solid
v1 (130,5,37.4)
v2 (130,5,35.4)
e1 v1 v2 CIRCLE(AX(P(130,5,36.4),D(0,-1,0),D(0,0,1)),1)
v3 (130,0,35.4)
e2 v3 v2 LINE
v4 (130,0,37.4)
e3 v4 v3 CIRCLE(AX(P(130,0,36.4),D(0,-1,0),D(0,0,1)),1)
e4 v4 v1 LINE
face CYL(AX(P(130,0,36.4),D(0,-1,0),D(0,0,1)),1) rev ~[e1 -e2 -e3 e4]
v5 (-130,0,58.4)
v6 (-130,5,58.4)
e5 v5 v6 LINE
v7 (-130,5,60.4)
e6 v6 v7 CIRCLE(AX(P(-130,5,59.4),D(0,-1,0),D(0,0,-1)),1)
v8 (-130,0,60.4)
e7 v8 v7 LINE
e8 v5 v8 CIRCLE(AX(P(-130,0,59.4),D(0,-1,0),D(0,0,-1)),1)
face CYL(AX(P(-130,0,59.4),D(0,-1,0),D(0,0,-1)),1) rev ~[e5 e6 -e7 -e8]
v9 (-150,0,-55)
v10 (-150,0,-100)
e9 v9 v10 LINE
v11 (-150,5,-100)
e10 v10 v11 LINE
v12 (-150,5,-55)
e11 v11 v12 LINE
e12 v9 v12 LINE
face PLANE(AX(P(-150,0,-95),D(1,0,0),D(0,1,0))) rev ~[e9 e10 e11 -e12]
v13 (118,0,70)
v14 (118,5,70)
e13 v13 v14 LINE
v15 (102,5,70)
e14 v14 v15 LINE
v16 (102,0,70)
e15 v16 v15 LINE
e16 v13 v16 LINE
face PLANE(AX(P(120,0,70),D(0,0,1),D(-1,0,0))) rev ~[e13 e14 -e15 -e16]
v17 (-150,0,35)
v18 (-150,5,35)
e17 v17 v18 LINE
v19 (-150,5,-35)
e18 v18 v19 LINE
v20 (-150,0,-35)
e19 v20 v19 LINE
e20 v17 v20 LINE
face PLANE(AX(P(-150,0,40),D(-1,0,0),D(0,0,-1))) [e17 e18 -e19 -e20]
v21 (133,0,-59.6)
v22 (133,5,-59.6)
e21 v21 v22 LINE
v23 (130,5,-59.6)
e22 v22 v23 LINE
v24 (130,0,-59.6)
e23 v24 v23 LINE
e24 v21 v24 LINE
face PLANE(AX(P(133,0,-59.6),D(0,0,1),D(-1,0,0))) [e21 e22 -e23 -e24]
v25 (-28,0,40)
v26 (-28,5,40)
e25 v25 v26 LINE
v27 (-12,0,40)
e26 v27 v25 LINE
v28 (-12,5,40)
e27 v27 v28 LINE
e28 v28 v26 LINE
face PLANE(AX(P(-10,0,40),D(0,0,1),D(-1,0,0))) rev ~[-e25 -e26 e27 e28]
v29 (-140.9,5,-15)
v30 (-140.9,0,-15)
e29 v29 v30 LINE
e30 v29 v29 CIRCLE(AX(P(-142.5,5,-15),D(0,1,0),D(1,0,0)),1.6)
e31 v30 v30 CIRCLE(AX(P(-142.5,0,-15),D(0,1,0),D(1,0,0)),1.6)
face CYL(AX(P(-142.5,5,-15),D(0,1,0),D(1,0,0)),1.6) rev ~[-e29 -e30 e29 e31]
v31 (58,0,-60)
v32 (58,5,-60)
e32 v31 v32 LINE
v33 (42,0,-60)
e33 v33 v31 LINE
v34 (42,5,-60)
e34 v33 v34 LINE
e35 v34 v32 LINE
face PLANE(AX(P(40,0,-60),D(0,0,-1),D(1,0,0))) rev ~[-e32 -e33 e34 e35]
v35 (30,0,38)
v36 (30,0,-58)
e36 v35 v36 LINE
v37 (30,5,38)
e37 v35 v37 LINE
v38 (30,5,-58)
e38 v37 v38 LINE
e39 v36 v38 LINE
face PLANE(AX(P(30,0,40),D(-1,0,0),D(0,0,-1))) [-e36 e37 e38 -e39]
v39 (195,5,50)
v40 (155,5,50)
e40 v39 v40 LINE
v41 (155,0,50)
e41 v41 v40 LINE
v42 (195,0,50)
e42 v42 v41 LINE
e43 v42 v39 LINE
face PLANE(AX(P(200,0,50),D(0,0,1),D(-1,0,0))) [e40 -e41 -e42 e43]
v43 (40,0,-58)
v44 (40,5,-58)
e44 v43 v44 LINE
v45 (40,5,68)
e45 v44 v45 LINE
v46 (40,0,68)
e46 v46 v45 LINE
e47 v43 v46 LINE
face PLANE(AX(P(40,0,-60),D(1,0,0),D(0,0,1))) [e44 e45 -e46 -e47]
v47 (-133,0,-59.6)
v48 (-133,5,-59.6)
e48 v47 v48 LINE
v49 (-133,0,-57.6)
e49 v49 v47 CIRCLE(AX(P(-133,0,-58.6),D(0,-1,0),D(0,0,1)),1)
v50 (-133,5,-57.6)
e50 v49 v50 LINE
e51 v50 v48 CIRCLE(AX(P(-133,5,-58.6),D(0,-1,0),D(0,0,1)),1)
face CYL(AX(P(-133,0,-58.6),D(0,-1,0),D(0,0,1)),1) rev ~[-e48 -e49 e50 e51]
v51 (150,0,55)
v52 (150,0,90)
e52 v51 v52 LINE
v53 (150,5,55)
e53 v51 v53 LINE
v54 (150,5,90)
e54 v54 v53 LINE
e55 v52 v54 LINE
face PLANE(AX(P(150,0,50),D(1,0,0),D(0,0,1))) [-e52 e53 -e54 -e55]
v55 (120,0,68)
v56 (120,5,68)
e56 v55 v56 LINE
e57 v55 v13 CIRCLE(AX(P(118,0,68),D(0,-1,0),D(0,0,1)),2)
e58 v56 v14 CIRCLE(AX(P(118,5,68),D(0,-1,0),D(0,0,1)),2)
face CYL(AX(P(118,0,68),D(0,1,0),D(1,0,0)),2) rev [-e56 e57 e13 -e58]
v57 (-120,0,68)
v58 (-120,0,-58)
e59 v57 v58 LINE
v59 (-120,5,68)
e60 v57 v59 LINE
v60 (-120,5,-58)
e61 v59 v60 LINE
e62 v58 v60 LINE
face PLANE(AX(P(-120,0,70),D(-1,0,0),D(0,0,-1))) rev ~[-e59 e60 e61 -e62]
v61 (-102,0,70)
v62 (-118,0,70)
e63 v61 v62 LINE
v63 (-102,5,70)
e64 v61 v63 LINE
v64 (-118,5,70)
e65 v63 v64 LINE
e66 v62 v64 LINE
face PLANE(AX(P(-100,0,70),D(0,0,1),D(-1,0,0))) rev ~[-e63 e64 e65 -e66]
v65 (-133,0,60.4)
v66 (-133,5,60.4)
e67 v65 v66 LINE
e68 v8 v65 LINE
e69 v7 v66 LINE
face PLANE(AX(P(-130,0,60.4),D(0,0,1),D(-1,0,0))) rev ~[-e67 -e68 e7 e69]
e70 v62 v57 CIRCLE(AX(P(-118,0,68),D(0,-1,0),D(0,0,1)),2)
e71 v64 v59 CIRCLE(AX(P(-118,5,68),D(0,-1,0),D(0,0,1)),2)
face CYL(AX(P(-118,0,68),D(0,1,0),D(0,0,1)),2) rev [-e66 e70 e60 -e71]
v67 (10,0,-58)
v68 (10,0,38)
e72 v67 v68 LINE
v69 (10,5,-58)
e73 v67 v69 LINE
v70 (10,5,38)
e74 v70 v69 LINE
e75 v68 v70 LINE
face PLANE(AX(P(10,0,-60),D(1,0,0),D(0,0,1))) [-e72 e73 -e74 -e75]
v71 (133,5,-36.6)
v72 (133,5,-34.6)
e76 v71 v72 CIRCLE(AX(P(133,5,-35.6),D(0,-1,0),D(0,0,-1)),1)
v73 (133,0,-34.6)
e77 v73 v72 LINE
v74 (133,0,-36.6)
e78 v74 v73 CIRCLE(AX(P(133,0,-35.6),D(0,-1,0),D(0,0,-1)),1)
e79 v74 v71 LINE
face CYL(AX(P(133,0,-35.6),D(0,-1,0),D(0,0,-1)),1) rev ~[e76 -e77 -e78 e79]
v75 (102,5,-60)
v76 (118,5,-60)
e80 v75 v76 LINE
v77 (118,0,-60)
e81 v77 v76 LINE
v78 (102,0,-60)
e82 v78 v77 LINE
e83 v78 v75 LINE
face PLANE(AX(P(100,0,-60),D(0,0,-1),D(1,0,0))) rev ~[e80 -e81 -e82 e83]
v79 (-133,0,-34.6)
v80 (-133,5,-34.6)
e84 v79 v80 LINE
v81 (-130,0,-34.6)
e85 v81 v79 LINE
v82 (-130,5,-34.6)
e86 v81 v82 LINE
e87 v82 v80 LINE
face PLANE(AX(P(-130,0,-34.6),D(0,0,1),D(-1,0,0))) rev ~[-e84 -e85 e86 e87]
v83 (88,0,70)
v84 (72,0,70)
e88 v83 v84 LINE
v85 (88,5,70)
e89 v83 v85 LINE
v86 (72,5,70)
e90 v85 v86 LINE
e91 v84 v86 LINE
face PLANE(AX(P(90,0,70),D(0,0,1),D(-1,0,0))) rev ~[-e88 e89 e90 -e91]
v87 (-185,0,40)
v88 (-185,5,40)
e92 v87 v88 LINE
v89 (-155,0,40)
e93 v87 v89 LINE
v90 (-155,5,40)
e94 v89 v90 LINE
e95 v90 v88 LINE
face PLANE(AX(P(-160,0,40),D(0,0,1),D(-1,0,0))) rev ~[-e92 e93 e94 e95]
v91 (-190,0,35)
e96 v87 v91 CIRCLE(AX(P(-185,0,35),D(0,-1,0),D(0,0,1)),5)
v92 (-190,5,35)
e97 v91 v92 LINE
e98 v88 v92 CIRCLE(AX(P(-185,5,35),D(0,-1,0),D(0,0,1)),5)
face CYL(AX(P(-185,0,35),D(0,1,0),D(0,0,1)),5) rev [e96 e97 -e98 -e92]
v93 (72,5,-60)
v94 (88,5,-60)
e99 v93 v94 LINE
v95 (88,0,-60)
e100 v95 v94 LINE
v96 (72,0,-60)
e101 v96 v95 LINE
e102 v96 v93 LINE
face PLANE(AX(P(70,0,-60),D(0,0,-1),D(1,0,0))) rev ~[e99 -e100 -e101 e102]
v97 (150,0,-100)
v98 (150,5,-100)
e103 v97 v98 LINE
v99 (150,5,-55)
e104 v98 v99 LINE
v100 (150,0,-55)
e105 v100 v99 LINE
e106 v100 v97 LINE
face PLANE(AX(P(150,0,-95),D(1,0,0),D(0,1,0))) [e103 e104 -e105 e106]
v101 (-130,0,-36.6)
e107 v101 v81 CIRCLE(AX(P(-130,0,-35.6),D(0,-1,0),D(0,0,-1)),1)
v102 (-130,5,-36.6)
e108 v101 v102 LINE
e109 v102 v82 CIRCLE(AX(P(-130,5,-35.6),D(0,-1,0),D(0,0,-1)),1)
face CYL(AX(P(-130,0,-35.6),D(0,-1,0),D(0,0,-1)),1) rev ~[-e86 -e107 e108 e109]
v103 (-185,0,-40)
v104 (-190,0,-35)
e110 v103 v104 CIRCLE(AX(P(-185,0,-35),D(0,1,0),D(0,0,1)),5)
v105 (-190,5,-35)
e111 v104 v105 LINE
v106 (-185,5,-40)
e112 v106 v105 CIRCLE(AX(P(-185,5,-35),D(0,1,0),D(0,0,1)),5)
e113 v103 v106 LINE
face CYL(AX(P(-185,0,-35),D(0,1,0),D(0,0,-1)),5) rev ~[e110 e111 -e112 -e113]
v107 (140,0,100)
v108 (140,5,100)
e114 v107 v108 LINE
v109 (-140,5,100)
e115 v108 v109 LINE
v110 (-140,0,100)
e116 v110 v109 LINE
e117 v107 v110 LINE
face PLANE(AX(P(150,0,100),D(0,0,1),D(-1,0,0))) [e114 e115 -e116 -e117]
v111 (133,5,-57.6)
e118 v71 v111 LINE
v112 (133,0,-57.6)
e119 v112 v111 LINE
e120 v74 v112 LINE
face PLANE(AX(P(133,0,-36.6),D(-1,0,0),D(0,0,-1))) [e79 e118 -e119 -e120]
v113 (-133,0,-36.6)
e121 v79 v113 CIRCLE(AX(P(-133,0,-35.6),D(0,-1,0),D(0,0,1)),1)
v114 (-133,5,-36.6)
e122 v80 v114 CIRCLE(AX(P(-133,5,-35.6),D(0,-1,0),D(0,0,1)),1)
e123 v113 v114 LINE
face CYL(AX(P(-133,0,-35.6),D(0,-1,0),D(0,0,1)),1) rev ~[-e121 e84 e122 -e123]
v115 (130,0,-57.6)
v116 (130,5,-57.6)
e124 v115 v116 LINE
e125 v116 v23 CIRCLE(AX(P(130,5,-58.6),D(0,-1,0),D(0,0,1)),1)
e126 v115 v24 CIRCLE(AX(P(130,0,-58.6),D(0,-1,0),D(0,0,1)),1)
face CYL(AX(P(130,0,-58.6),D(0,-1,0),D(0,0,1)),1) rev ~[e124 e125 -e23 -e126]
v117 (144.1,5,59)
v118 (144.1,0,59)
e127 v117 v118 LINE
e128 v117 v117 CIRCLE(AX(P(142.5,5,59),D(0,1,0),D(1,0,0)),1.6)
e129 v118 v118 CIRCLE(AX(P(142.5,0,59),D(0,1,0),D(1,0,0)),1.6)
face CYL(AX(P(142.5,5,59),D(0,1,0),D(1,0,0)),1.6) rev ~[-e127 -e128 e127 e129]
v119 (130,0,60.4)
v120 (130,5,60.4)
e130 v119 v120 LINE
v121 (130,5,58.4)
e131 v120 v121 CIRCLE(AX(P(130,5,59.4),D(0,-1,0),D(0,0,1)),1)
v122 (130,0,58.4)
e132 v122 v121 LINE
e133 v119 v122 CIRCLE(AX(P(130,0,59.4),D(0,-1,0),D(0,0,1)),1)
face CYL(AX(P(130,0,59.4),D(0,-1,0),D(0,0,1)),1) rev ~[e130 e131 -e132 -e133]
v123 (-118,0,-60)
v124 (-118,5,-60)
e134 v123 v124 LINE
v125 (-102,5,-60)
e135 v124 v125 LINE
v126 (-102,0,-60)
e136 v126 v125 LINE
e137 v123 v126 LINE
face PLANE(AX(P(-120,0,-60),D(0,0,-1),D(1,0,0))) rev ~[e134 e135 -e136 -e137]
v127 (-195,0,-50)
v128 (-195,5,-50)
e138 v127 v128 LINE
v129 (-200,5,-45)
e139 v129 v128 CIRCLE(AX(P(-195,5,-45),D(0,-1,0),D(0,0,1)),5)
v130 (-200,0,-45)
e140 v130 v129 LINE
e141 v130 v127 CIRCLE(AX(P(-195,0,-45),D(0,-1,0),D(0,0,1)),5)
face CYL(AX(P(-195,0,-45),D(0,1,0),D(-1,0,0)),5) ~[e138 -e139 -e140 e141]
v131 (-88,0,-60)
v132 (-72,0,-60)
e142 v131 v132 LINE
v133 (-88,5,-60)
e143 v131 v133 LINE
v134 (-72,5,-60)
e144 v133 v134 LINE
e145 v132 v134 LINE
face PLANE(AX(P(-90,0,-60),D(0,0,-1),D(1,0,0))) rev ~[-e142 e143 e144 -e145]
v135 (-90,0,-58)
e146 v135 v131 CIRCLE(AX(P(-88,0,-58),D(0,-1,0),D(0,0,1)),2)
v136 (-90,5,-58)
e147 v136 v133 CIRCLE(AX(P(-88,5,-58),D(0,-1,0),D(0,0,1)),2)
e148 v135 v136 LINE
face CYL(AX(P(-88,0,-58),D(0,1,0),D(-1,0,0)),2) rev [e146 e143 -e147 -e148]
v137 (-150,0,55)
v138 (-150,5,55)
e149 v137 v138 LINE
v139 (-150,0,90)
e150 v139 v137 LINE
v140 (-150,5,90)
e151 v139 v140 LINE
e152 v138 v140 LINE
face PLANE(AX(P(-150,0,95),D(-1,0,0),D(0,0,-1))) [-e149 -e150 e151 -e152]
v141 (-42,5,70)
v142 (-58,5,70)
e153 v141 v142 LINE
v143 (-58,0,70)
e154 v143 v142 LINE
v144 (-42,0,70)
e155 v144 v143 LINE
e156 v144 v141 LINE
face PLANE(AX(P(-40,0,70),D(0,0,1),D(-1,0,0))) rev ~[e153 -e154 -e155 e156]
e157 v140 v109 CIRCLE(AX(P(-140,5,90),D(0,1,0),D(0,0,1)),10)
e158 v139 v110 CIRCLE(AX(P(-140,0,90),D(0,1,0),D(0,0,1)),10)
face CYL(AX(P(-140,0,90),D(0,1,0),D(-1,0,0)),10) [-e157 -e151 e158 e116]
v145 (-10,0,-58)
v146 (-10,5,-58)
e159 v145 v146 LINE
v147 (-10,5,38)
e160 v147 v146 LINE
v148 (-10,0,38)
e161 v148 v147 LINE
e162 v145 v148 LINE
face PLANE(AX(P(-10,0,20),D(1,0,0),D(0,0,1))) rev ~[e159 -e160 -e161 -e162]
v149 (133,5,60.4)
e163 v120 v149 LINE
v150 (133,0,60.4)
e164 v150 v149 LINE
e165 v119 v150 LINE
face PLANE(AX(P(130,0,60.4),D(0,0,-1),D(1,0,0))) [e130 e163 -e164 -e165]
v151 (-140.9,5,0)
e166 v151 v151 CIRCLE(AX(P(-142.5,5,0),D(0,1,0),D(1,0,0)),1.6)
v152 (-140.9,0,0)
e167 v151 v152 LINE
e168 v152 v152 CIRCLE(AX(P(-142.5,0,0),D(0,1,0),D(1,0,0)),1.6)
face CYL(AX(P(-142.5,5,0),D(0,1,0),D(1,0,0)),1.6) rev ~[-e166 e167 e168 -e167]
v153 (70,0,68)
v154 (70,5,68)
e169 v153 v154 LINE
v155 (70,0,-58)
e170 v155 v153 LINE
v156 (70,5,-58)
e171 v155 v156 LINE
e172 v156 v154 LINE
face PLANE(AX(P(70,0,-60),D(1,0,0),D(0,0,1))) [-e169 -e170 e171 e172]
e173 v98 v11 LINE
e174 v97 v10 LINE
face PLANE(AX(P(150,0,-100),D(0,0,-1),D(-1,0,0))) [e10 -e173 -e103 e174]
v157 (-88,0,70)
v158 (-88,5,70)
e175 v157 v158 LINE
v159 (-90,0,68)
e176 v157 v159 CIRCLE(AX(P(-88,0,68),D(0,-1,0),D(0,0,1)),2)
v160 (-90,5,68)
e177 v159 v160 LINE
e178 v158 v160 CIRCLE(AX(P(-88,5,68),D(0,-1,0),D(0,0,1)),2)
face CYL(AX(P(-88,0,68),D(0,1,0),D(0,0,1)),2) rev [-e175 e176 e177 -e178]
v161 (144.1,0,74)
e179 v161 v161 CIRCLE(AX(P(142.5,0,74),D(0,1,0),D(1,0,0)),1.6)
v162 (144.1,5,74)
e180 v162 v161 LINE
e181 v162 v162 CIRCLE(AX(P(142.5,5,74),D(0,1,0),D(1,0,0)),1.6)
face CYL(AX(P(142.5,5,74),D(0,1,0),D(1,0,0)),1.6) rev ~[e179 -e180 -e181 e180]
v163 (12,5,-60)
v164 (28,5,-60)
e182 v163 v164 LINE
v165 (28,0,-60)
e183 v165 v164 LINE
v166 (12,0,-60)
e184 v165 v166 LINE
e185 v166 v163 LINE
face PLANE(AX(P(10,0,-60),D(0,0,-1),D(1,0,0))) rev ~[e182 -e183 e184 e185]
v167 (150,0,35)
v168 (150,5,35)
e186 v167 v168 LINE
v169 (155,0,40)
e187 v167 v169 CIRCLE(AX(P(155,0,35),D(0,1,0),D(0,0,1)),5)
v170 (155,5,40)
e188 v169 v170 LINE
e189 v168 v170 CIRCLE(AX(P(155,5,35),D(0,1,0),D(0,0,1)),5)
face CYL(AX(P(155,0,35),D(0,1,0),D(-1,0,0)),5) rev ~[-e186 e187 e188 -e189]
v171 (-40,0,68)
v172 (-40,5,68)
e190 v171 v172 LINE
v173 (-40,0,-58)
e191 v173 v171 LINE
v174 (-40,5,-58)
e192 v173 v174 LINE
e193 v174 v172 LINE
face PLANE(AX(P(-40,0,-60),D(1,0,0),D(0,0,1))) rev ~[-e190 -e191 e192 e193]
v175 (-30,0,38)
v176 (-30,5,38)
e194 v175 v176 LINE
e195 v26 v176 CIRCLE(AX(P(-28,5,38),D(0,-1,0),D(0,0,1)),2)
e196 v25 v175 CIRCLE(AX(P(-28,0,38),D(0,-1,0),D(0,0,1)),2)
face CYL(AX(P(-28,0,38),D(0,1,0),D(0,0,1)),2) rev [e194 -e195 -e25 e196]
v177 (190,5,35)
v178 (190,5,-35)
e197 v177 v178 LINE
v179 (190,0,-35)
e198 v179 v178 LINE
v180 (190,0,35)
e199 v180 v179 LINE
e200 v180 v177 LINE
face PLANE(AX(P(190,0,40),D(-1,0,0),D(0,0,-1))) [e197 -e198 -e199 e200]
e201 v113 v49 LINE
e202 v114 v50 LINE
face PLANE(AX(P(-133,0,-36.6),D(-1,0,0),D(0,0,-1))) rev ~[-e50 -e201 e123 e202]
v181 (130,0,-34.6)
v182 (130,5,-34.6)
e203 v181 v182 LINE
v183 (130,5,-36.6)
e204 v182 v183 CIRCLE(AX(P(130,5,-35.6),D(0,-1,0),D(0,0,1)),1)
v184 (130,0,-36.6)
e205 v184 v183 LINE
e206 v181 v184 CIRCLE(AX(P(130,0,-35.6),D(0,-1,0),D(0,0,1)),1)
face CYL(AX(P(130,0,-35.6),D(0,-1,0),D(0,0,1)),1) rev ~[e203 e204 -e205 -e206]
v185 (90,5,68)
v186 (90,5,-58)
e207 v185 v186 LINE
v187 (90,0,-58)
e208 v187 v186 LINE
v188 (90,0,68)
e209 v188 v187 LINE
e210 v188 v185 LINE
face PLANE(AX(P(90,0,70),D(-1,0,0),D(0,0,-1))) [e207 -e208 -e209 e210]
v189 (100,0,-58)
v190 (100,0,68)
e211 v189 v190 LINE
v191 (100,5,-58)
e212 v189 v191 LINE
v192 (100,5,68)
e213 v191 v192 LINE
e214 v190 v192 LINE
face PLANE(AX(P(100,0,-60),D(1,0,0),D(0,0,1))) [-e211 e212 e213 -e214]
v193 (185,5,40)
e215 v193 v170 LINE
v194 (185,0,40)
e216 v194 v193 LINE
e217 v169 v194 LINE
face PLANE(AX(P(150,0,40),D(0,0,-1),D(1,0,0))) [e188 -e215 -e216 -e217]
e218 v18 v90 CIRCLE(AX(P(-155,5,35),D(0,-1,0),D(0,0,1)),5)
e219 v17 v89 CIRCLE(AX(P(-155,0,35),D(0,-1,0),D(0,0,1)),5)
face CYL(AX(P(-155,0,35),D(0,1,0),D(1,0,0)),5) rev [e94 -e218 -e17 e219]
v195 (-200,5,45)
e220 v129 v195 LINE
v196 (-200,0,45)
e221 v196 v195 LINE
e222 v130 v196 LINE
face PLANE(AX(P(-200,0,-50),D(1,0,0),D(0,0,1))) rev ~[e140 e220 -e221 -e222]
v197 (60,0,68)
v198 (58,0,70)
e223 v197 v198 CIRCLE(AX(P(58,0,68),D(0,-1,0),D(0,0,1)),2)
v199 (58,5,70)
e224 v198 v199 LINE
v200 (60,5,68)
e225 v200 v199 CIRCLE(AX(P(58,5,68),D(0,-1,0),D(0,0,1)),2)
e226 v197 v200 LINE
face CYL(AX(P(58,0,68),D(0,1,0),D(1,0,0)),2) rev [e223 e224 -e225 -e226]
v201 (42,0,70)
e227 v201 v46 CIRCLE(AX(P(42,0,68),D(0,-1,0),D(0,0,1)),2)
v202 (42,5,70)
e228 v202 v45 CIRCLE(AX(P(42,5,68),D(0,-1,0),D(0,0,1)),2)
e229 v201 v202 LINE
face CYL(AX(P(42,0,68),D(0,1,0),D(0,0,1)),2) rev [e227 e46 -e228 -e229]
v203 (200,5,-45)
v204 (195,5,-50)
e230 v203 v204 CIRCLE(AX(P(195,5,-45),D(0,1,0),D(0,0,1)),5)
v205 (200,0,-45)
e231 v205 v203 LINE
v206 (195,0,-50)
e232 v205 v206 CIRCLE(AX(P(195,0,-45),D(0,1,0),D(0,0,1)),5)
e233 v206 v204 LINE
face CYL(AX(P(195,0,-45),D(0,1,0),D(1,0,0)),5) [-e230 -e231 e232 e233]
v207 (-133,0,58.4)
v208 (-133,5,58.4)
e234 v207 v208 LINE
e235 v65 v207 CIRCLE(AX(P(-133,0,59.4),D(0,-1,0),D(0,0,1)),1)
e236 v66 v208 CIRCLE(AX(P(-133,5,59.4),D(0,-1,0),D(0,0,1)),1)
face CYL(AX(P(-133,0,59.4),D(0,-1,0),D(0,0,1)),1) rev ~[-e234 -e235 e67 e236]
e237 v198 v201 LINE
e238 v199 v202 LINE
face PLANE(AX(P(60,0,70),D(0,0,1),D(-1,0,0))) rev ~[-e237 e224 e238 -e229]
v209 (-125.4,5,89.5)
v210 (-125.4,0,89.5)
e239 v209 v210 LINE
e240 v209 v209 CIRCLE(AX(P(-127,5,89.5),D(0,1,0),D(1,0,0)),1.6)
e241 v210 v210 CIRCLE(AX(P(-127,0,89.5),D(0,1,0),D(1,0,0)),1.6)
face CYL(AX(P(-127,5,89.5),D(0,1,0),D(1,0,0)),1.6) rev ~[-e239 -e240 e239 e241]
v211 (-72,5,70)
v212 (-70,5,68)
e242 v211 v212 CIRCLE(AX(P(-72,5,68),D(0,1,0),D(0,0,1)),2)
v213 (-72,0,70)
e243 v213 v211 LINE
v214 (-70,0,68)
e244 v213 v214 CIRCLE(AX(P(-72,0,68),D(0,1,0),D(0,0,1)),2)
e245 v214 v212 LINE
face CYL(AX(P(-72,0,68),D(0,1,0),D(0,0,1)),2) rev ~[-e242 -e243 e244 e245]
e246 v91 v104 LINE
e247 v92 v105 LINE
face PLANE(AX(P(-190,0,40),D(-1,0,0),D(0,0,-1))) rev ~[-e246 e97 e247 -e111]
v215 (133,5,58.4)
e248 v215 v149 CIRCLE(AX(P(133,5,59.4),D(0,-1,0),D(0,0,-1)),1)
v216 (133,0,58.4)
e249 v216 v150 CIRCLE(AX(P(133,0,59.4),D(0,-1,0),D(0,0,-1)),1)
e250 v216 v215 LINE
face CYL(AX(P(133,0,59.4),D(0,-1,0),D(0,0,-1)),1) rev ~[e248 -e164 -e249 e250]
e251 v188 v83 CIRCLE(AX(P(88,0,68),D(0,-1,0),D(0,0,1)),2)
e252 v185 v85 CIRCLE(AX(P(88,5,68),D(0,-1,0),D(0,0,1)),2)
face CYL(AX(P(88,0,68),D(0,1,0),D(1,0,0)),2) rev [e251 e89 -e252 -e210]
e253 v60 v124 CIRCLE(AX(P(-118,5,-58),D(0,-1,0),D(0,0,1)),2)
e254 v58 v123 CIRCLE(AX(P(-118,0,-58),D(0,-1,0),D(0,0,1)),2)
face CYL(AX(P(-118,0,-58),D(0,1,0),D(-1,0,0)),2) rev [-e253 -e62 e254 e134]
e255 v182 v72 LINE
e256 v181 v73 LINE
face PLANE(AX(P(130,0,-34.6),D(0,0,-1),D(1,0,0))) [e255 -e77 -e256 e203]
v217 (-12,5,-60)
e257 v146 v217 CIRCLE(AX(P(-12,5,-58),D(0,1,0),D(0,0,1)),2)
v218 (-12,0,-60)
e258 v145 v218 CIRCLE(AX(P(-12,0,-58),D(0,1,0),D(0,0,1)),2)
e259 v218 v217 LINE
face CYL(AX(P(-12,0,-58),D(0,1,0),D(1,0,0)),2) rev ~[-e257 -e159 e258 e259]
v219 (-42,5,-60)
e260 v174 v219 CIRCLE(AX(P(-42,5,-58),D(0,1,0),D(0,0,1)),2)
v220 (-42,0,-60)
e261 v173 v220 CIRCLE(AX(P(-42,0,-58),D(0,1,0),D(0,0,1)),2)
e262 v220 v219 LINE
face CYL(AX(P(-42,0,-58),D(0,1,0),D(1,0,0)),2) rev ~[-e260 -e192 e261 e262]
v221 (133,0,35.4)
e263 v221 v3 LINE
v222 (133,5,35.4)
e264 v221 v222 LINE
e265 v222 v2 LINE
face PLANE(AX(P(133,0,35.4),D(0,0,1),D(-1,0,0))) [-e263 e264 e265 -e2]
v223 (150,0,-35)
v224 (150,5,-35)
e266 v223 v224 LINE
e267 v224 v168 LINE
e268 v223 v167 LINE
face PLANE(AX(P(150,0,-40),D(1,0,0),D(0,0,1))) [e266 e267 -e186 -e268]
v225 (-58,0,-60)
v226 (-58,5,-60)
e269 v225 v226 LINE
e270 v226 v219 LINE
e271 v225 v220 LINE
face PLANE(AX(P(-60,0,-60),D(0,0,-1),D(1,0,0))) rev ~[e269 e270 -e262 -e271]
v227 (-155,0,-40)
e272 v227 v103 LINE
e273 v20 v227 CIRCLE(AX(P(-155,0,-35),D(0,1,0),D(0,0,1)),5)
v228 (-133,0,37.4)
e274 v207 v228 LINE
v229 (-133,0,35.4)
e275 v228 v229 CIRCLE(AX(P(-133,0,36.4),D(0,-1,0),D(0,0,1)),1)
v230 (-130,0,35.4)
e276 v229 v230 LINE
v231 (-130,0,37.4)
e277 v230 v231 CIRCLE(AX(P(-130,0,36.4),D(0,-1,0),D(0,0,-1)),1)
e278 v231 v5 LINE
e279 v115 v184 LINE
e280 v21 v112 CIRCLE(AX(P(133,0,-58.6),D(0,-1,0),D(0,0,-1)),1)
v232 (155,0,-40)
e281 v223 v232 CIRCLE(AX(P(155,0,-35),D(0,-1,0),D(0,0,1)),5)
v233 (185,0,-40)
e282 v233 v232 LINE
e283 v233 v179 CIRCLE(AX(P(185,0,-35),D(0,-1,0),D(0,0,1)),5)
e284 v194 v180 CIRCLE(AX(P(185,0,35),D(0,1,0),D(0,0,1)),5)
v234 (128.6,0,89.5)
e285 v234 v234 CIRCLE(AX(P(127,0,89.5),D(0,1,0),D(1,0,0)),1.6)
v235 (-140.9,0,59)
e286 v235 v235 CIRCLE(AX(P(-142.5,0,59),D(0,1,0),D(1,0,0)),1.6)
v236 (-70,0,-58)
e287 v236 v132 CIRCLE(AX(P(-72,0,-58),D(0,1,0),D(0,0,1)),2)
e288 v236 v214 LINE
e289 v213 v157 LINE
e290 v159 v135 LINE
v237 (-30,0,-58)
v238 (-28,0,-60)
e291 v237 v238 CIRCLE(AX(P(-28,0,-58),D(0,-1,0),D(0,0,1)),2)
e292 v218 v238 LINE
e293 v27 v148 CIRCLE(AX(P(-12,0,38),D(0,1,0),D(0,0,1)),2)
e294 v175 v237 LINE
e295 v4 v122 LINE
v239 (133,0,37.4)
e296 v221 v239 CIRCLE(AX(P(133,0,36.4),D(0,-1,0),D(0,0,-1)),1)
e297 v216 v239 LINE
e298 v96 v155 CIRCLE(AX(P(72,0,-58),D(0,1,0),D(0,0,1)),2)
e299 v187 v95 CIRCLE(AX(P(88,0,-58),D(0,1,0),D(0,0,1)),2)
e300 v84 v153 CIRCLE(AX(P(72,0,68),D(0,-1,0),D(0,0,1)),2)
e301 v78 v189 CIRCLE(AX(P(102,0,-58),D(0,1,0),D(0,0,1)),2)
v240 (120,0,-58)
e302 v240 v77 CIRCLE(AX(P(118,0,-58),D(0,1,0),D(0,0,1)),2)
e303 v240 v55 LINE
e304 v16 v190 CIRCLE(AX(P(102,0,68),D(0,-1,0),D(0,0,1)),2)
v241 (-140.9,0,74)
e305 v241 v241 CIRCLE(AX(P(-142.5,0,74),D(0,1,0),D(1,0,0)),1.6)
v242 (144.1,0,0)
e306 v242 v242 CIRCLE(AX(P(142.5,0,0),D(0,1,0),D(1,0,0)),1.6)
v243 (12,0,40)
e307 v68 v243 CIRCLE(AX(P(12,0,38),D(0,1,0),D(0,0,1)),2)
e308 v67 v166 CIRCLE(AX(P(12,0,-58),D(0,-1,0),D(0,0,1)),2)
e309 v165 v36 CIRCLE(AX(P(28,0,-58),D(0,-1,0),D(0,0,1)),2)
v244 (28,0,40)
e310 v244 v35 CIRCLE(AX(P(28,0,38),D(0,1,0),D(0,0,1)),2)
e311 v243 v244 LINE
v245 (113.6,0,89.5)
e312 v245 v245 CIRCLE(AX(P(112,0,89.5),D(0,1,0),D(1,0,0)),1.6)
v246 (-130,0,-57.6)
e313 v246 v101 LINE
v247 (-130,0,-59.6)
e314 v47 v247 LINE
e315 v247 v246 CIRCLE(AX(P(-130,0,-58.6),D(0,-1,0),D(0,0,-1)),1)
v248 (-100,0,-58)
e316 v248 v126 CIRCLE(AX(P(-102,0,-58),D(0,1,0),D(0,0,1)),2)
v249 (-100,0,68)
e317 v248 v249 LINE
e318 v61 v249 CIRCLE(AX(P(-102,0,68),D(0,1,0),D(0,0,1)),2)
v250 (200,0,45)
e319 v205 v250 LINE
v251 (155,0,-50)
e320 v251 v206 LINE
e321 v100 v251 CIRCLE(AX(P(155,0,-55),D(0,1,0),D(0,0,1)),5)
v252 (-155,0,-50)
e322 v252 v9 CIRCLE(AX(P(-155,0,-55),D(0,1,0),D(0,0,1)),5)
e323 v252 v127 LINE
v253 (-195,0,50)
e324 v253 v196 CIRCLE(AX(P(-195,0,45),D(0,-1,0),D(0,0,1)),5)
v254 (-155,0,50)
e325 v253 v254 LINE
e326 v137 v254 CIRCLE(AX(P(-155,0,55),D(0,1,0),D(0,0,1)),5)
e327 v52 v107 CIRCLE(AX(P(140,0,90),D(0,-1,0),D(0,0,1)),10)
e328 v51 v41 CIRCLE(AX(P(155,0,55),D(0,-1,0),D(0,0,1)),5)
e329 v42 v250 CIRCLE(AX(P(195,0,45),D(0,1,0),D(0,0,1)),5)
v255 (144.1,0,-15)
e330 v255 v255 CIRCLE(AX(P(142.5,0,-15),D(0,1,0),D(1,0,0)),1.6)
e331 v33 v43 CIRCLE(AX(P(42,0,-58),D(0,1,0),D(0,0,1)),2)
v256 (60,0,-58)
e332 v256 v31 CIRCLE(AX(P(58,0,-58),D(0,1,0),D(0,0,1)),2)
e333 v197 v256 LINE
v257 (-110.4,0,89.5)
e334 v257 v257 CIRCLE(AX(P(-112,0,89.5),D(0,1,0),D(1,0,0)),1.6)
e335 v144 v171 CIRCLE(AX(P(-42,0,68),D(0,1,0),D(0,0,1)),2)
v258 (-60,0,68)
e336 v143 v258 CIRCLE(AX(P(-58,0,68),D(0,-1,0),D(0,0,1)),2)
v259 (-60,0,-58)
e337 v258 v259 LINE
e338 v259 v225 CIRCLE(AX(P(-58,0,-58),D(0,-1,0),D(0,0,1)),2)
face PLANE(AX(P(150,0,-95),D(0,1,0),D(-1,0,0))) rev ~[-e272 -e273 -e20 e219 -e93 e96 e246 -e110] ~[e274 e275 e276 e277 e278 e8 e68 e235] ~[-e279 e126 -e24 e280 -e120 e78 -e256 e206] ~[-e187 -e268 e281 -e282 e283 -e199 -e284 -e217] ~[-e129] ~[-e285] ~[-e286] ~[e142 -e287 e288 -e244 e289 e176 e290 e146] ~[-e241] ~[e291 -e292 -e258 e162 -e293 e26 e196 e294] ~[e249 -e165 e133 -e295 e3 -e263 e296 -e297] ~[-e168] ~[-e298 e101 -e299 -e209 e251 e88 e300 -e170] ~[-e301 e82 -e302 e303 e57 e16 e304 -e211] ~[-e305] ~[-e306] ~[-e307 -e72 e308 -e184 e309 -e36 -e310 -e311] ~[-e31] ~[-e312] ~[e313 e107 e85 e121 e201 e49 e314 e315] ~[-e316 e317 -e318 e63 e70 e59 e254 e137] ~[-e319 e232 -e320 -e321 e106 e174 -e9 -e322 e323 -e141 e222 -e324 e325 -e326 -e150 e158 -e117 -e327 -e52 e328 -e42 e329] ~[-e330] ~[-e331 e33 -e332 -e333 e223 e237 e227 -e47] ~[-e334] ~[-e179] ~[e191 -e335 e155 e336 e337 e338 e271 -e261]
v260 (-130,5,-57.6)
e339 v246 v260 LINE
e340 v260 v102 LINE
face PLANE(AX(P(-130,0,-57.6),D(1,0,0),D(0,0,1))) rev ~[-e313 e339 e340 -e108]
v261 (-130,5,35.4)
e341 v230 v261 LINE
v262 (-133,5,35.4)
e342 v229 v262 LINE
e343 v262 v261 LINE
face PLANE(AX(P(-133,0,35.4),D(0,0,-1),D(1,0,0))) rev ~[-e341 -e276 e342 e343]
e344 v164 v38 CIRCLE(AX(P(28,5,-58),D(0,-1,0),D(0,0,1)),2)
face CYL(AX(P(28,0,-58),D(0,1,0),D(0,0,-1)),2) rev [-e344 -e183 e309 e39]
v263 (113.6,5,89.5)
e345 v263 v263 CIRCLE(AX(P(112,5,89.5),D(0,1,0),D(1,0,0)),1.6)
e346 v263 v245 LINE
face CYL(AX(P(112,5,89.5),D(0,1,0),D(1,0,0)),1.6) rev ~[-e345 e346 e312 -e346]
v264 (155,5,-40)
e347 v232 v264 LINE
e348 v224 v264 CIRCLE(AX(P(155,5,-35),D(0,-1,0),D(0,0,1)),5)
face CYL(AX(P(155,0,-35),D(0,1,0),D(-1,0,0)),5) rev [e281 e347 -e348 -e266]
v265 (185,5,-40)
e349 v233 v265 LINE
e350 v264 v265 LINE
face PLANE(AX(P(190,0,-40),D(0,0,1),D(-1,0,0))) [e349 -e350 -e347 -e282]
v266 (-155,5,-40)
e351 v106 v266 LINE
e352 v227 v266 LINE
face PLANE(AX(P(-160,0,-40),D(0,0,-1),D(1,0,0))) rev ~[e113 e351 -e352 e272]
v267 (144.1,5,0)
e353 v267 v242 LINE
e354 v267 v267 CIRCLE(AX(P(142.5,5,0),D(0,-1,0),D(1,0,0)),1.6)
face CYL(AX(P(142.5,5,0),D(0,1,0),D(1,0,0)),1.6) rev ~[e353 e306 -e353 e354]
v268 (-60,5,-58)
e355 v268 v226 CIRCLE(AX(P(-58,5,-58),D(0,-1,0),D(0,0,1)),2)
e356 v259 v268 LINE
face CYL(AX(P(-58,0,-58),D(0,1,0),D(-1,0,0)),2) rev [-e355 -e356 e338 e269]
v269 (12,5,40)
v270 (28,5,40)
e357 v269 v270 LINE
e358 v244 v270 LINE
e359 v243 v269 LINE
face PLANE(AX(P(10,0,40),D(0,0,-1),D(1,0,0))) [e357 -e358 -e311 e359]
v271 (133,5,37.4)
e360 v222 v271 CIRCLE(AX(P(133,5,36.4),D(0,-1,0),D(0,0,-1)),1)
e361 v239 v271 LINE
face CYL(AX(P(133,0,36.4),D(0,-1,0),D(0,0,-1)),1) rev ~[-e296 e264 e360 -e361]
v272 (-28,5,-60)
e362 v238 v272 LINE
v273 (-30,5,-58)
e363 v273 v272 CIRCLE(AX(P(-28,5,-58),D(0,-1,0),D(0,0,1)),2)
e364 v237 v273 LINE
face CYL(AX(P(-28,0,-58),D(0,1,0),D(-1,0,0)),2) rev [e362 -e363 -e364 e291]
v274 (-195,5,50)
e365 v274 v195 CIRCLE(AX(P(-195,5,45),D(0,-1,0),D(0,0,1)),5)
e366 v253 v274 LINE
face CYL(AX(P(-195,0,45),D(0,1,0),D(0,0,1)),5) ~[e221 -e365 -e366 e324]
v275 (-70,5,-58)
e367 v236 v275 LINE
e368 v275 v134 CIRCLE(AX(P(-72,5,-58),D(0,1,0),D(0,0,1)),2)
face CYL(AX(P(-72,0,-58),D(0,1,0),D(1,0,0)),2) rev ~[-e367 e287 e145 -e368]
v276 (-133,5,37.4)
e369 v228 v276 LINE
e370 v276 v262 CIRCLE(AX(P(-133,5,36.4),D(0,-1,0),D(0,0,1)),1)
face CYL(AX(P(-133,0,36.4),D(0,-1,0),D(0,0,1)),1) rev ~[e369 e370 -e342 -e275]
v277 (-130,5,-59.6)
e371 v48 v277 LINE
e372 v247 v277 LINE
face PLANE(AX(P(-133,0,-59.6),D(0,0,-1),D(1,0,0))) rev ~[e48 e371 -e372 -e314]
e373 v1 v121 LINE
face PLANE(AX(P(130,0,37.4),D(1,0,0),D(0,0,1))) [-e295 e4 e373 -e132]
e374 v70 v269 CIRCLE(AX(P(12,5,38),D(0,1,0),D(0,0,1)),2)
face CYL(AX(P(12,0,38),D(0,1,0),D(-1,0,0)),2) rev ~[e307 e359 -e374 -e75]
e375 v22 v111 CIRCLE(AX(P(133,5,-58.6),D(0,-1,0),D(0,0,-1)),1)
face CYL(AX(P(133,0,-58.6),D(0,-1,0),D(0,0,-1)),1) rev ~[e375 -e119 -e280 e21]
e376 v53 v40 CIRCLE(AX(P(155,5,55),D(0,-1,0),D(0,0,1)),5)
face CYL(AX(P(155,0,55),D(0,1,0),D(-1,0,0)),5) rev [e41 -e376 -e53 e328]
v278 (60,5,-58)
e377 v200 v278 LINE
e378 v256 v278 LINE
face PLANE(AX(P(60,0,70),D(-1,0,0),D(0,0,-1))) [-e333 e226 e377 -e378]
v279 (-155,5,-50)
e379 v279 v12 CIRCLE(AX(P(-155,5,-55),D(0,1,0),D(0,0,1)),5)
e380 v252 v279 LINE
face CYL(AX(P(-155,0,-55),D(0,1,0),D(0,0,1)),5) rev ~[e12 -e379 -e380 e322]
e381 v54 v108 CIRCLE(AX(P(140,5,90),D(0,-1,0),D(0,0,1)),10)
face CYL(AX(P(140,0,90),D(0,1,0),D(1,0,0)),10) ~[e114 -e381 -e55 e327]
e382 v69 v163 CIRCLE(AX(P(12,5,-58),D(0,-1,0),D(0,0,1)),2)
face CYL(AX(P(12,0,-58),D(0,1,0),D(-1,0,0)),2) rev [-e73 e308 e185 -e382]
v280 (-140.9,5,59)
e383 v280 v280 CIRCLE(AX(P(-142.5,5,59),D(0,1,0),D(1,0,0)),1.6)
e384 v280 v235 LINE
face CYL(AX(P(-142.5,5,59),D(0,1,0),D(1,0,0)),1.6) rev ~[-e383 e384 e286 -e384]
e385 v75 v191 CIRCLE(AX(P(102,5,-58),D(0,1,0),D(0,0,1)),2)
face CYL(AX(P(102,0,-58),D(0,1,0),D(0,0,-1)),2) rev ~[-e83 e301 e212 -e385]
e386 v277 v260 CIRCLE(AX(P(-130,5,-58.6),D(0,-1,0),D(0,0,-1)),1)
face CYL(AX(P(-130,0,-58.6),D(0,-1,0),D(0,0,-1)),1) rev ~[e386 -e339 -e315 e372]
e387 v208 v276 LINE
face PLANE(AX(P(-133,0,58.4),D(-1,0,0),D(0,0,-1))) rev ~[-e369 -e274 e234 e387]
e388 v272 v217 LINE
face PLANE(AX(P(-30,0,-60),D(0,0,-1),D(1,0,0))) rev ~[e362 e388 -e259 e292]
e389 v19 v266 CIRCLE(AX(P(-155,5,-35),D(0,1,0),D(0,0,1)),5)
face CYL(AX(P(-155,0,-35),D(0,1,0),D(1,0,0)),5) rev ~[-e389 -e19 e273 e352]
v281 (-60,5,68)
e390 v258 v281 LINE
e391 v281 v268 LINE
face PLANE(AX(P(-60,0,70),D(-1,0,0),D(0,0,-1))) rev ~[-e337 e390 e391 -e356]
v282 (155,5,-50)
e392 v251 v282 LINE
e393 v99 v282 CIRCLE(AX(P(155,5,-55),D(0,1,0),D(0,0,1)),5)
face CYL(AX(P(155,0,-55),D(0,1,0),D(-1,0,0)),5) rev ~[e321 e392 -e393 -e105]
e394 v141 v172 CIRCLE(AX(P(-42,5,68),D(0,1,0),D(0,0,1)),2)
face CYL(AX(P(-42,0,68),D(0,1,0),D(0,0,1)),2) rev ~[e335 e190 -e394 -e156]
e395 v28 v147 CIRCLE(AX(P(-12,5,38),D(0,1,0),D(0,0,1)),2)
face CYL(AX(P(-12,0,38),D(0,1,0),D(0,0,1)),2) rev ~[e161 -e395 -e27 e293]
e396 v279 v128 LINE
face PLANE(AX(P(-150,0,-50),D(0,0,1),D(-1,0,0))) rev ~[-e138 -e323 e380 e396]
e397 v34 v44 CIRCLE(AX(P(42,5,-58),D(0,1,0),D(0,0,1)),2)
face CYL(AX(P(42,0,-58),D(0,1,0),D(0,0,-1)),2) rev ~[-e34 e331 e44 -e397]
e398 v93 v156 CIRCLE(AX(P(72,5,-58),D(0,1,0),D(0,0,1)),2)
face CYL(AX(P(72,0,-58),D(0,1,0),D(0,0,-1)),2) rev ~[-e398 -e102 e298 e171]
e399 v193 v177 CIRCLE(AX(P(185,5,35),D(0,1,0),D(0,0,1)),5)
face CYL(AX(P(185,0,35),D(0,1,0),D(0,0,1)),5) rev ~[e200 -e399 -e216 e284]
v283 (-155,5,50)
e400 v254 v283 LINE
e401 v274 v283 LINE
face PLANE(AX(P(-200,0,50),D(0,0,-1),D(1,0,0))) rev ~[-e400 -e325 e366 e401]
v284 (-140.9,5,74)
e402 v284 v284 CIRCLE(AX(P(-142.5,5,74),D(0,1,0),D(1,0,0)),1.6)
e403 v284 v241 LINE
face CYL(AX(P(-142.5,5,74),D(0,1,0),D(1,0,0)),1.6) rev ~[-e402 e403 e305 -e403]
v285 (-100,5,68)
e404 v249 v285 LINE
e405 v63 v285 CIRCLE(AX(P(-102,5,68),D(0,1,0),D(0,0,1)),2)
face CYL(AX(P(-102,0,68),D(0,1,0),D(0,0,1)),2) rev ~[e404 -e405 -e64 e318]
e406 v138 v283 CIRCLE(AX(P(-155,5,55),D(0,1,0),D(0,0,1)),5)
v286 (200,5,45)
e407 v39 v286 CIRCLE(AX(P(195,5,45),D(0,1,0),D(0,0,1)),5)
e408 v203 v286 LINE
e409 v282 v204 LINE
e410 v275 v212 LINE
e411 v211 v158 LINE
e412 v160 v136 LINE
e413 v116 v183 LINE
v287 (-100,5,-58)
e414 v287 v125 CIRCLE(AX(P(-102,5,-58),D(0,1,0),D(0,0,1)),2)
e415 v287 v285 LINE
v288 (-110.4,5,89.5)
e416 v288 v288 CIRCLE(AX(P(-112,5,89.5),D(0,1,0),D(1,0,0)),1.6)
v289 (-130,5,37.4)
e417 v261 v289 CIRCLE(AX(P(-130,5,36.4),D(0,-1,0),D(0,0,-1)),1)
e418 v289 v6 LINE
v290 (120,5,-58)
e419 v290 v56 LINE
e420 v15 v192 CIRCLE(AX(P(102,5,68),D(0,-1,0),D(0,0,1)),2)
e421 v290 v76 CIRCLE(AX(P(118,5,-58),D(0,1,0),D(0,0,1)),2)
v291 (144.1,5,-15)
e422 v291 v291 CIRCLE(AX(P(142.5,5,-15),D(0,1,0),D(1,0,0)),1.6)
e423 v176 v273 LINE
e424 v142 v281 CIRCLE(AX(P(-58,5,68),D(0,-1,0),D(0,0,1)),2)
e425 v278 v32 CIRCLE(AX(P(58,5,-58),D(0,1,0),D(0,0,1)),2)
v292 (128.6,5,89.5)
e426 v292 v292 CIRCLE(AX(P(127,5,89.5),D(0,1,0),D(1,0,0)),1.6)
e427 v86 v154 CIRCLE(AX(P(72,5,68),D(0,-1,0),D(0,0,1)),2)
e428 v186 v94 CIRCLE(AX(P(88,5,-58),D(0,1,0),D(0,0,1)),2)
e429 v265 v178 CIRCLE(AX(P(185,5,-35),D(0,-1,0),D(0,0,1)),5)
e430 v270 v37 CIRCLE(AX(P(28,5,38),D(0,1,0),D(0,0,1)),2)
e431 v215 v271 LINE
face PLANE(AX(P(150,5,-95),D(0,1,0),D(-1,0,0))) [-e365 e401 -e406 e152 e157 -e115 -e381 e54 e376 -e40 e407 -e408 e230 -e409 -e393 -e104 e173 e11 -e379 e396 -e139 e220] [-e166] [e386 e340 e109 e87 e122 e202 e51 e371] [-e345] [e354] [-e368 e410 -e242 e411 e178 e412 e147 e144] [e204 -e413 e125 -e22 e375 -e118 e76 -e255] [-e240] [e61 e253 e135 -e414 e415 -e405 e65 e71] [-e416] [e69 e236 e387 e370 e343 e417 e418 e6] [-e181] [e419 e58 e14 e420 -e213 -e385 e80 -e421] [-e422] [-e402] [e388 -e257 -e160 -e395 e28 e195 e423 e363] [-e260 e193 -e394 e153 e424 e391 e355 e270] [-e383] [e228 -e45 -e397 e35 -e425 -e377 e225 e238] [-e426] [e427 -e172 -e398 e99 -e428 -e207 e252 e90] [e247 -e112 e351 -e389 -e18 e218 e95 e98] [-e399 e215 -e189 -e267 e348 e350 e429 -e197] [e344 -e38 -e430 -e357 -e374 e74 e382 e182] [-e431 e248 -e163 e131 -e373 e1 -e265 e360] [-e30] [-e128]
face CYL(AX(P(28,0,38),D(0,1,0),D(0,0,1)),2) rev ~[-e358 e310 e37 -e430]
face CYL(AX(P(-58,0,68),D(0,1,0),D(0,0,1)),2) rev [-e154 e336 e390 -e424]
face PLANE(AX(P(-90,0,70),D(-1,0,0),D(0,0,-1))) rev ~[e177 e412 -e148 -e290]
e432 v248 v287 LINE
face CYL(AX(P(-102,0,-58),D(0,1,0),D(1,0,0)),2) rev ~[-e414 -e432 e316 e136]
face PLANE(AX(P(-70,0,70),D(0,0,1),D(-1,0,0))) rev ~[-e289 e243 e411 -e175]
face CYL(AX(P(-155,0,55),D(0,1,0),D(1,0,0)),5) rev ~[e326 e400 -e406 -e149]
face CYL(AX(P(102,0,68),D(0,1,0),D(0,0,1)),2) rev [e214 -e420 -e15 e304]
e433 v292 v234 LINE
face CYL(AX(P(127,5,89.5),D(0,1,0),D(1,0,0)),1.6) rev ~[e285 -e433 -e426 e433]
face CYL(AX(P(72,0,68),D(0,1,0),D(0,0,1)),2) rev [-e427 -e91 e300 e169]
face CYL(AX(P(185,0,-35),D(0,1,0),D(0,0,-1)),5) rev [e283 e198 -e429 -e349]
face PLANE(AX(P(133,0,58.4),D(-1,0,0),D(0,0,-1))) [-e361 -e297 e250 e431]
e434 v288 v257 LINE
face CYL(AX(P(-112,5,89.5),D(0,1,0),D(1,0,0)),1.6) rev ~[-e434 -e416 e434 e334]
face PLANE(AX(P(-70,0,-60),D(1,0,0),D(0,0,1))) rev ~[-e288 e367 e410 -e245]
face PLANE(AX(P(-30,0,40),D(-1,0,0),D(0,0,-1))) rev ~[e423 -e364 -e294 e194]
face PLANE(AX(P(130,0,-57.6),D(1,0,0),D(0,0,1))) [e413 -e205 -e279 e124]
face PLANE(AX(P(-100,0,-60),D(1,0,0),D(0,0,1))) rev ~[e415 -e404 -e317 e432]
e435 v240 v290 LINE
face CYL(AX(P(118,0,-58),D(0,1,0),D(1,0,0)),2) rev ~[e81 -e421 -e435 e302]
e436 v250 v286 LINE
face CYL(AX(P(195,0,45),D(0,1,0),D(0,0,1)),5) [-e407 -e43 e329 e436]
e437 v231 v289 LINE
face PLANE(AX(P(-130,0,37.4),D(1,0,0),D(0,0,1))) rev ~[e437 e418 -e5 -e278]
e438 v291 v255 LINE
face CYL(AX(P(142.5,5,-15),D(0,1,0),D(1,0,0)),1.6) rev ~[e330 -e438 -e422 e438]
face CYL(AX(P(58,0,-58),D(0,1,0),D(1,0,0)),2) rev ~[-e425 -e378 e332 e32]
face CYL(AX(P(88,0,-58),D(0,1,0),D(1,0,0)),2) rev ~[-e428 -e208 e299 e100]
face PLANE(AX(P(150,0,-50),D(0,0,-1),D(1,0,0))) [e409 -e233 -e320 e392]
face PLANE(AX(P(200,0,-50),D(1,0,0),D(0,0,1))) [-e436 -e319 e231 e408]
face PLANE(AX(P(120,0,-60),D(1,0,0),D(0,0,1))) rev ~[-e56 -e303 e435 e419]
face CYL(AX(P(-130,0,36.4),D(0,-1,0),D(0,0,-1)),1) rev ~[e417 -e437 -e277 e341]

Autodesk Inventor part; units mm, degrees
ref_plane "YZ Plane" through (0, 0, 0) normal (1, 0, 0) x (0, 1, 0)
ref_plane "XZ Plane" through (0, 0, 0) normal (0, 1, 0) x (-1, 0, 0)
ref_plane "XY Plane" through (0, 0, 0) normal (0, 0, 1) x (1, 0, 0)
sketch "スケッチ1" plane through (0, 0, 0) normal (0, 1, 0) x (-1, 0, 0)
  line L0 (150, -95) -> (-150, -95)
  line L1 (-150, -95) -> (-150, 95)
  line L2 (-150, 95) -> (150, 95)
  line L3 (150, 95) -> (150, -95)
  line L4 (150, -95) -> (-150, 95) construction
  line L5 (-150, -95) -> (150, 95) construction
  line L6 (150, 95) -> (-150, 95)
  line L7 (-150, 95) -> (-150, 100)
  line L8 (-150, 100) -> (150, 100)
  line L9 (150, 100) -> (150, 95)
  line L10 (150, -50) -> (200, -50)
  line L11 (200, -50) -> (200, 50)
  line L12 (200, 50) -> (150, 50)
  line L13 (150, 50) -> (150, -50)
  line L14 (-150, -50) -> (-200, -50)
  line L15 (-200, -50) -> (-200, 50)
  line L16 (-200, 50) -> (-150, 50)
  line L17 (-150, 50) -> (-150, -50)
  line L18 (190, -40) -> (160, -40)
  line L19 (160, -40) -> (160, 40)
  line L20 (160, 40) -> (190, 40)
  line L21 (190, 40) -> (190, -40)
  line L22 (-190, -40) -> (-160, -40)
  line L23 (-160, -40) -> (-160, 40)
  line L24 (-160, 40) -> (-190, 40)
  line L25 (-190, 40) -> (-190, -40)
  line L26 (160, -40) -> (150, -40)
  line L27 (150, -40) -> (150, 40)
  line L28 (150, 40) -> (160, 40)
  line L29 (160, 40) -> (160, -40)
  line L30 (-160, -40) -> (-150, -40)
  line L31 (-150, -40) -> (-150, 40)
  line L32 (-150, 40) -> (-160, 40)
  line L33 (-160, 40) -> (-160, -40)
  point P0 (0, 0)
  point P1 (150, 0)
  point P2 (175, -40)
  point P3 (-155, -40)
  point P4 (-155, 40)
  point P5 (-150, 40)
  point P6 (150, 40)
  dimension "d0" = 190
  dimension "d1" = 300
  dimension "d244" = 5
  dimension "d346" = 50
  dimension "d347" = 50
  dimension "d348" = 50
  dimension "d349" = 50
  dimension "d350" = 10
  dimension "d351" = 10
  dimension "d352" = 80
extrude "押し出し1" add sketch "スケッチ1" along normal blind 5 contours L0 L1 L2 L3 | L3 L26 L18 L21 L20 L28 L12 L11 L10 | L14 L15 L16 L1 L32 L24 L25 L22 L30 | L2 L7 L8 L9
sketch "スケッチ2" plane through (0, 5, 0) normal (0, 1, 0) x (1, 0, 0)
  circle A0 centre (-142.5, -74) radius 1.6
  circle A1 centre (142.5, -74) radius 1.6
  line L0 (-150, -95) -> (150, -95) projected
  circle A2 centre (-142.5, -59) radius 1.6
  circle A3 centre (142.5, -59) radius 1.6
  circle A4 centre (-127, -89.5) radius 1.6
  line L1 (-150, 95) -> (-150, -100) projected
  circle A5 centre (-112, -89.5) radius 1.6
  line L2 (150, 95) -> (-150, 95) projected
  line L3 (0, 95) -> (0, -95)
  line L4 (-150, -2.5) -> (150, 0)
  line L5 (150, -95) -> (150, 95) projected
  circle A6 centre (127, -89.5) radius 1.6
  circle A7 centre (112, -89.5) radius 1.6
  circle A8 centre (-142.5, 15) radius 1.6
  circle A9 centre (-142.5, 0) radius 1.6
  circle A10 centre (142.5, 15) radius 1.6
  circle A11 centre (142.5, 0) radius 1.6
  point P0 (0, 0)
  dimension "d55" = 142.5
  dimension "d56" = 285
  dimension "d57" = 3.2
  dimension "d58" = 3.2
  dimension "d59" = 21
  dimension "d60" = 21
  dimension "d61" = 15
  dimension "d62" = 15
  dimension "d63" = 3.2
  dimension "d64" = 3.2
  dimension "d67" = 5.5
  dimension "d68" = 23
  dimension "d69" = 15
  dimension "d70" = 3.2
  dimension "d71" = 3.2
  dimension "d72" = 80
  dimension "d73" = 7.5
  dimension "d74" = 15
  dimension "d75" = 3.2
  dimension "d76" = 3.2
  dimension "d245" = 3.2
extrude "押し出し4" cut sketch "スケッチ2" against normal blind 10 contours A0 | A1 | A11 L4 | L4 A11 | A2 | A3 | A4 | A5 | A6 | A7 | A8 | A9 | A10
sketch "スケッチ4" plane through (0, 5, 0) normal (0, 1, 0) x (1, 0, 0)
  point P0 (0, 0)
sketch "スケッチ14" plane through (150, 0, -95) normal (0, 0, -1) x (-1, 0, 0)
  line L0 (0, 0) -> (300, 0) projected
  line L1 (300, 0) -> (300, 5) projected
  line L2 (0, 5) -> (300, 5) projected
  line L3 (0, 0) -> (0, 5) projected
  point P0 (150, 0)
extrude "押し出し13" add sketch "スケッチ14" along normal blind 5
fillet "フィレット3" radius 10 2 edges at (150, 2.5, 100) (-150, 2.5, 100)
sketch "スケッチ19" plane through (0, 0, 0) normal (0, -1, 0) x (1, 0, 0)
  line L0 (150, -100) -> (-150, -100) projected
  line L1 (-140, 100) -> (140, 100) projected
  line L2 (150, 90) -> (150, -100) projected
  line L3 (-150, 90) -> (-150, -100) projected
  line L4 (-120, -60) -> (120, -60)
  line L5 (120, -60) -> (120, 70)
  line L6 (120, 70) -> (-120, 70)
  line L7 (-120, 70) -> (-120, -60)
  line L8 (-120, -60) -> (-100, -60)
  line L9 (-100, -60) -> (-100, 70)
  line L10 (-100, 70) -> (-120, 70)
  line L11 (-120, 70) -> (-120, -60)
  line L12 (-90, -60) -> (-70, -60)
  line L13 (-70, -60) -> (-70, 70)
  line L14 (-70, 70) -> (-90, 70)
  line L15 (-90, 70) -> (-90, -60)
  line L16 (-60, -60) -> (-40, -60)
  line L17 (-40, -60) -> (-40, 70)
  line L18 (-40, 70) -> (-60, 70)
  line L19 (-60, 70) -> (-60, -60)
  line L20 (-30, -60) -> (-10, -60)
  line L21 (-10, -60) -> (-10, 70)
  line L22 (-10, 70) -> (-30, 70)
  line L23 (-30, 70) -> (-30, -60)
  line L24 (120, -60) -> (100, -60)
  line L25 (100, -60) -> (100, 70)
  line L26 (100, 70) -> (120, 70)
  line L27 (120, 70) -> (120, -60)
  line L28 (90, -60) -> (70, -60)
  line L29 (70, -60) -> (70, 70)
  line L30 (70, 70) -> (90, 70)
  line L31 (90, 70) -> (90, -60)
  line L32 (60, -60) -> (40, -60)
  line L33 (40, -60) -> (40, 70)
  line L34 (40, 70) -> (60, 70)
  line L35 (60, 70) -> (60, -60)
  line L36 (30, -60) -> (10, -60)
  line L37 (10, -60) -> (10, 70)
  line L38 (10, 70) -> (30, 70)
  line L39 (30, 70) -> (30, -60)
  line L40 (0, -60) -> (10, -60)
  line L41 (10, -60) -> (10, 40)
  line L42 (10, 40) -> (0, 40)
  line L43 (0, 40) -> (0, -60)
  line L44 (-10, -60) -> (0, -60)
  line L45 (0, -60) -> (0, 40)
  line L46 (0, 40) -> (-10, 40)
  line L47 (-10, 40) -> (-10, -60)
  line L48 (20, -60) -> (-20, -60)
  line L49 (-20, -60) -> (-20, 20)
  line L50 (-20, 20) -> (20, 20)
  line L51 (20, 20) -> (20, -60)
  line L52 (-30, 70) -> (-10, 70)
  line L53 (-10, 70) -> (-10, 40)
  line L54 (-10, 40) -> (-30, 40)
  line L55 (-30, 40) -> (-30, 70)
  line L56 (10, 40) -> (30, 40)
  line L57 (30, 40) -> (30, 70)
  line L58 (30, 70) -> (10, 70)
  line L59 (10, 70) -> (10, 40)
  point P0 (-5, 40)
  point P1 (-30, 70)
  point P2 (-60, 70)
  point P3 (-30, 40)
  point P4 (30, 40)
  dimension "d320" = 130
  dimension "d317" = 30
  dimension "d318" = 30
  dimension "d319" = 40
  dimension "d321" = 20
  dimension "d322" = 10
  dimension "d323" = 20
  dimension "d324" = 10
  dimension "d325" = 20
  dimension "d326" = 20
  dimension "d327" = 10
  dimension "d328" = 20
  dimension "d329" = 10
  dimension "d330" = 20
  dimension "d331" = 10
  dimension "d332" = 20
  dimension "d333" = 10
  dimension "d334" = 20
  dimension "d335" = 10
  dimension "d336" = 10
  dimension "d337" = 10
  dimension "d338" = 10
  dimension "d339" = 30
  dimension "d340" = 30
  dimension "d341" = 10
  dimension "d342" = 10
  dimension "d343" = 50
  dimension "d345" = 30
extrude "押し出し18" cut sketch "スケッチ19" against normal blind 5 contours L7 L6 L9 L4 | L15 L6 L13 L4 | L19 L6 L17 L4 | L23 L54 L21 L50 L49 L4 | L49 L50 L21 L4 | L37 L50 L51 L4 | L56 L39 L4 L51 L50 L37 | L6 L35 L4 L33 | L6 L31 L4 L29 | L6 L5 L4 L25
sketch "スケッチ20" plane through (0, 0, 0) normal (0, -1, 0) x (1, 0, 0)
  line L0 (133, 35.4) -> (130, 35.4)
  line L1 (130, 35.4) -> (130, 60.4)
  line L2 (130, 60.4) -> (133, 60.4)
  line L3 (133, 60.4) -> (133, 35.4)
  circle A0 centre (127, 89.5) radius 1.6 projected
  line L4 (133, -59.6) -> (130, -59.6)
  line L5 (130, -59.6) -> (130, -34.6)
  line L6 (130, -34.6) -> (133, -34.6)
  line L7 (133, -34.6) -> (133, -59.6)
  arc A1 (133, -59.6) -> (133, -57.6) centre (133, -58.6) ccw
  arc A2 (130, -57.6) -> (130, -59.6) centre (130, -58.6) ccw
  arc A3 (133, -36.6) -> (133, -34.6) centre (133, -35.6) ccw
  arc A4 (130, -34.6) -> (130, -36.6) centre (130, -35.6) ccw
  arc A5 (133, 58.4) -> (133, 60.4) centre (133, 59.4) ccw
  arc A6 (130, 60.4) -> (130, 58.4) centre (130, 59.4) ccw
  arc A7 (133, 35.4) -> (133, 37.4) centre (133, 36.4) ccw
  arc A8 (130, 37.4) -> (130, 35.4) centre (130, 36.4) ccw
  line L8 (0, 0) -> (0, 29.3825)
  line L9 (-133, 35.4) -> (-130, 35.4)
  line L10 (-130, 35.4) -> (-130, 60.4)
  line L11 (-130, 60.4) -> (-133, 60.4)
  line L12 (-133, 60.4) -> (-133, 35.4)
  line L13 (-133, -59.6) -> (-130, -59.6)
  line L14 (-130, -59.6) -> (-130, -34.6)
  line L15 (-130, -34.6) -> (-133, -34.6)
  line L16 (-133, -34.6) -> (-133, -59.6)
  arc A9 (-133, -57.6) -> (-133, -59.6) centre (-133, -58.6) ccw
  arc A10 (-130, -59.6) -> (-130, -57.6) centre (-130, -58.6) ccw
  arc A11 (-133, -34.6) -> (-133, -36.6) centre (-133, -35.6) ccw
  arc A12 (-130, -36.6) -> (-130, -34.6) centre (-130, -35.6) ccw
  arc A13 (-133, 60.4) -> (-133, 58.4) centre (-133, 59.4) ccw
  arc A14 (-130, 58.4) -> (-130, 60.4) centre (-130, 59.4) ccw
  arc A15 (-133, 37.4) -> (-133, 35.4) centre (-133, 36.4) ccw
  arc A16 (-130, 35.4) -> (-130, 37.4) centre (-130, 36.4) ccw
  point P0 (131.5, 60.4)
  point P1 (131.5, 35.4)
  point P2 (131.5, -34.6)
  point P3 (-131.5, 60.4)
  point P4 (-131.5, 35.4)
  point P5 (-131.5, -34.6)
  dimension "d272" = 3
  dimension "d273" = 4.5
  dimension "d274" = 27.5
  dimension "d275" = 25
  dimension "d276" = 25
  dimension "d277" = 70
  dimension "d278" = 3
  dimension "d279" = 3
  dimension "d280" = 1
  dimension "d281" = 1
  dimension "d282" = 1
  dimension "d283" = 1
  dimension "d284" = 1
  dimension "d285" = 1
  dimension "d286" = 1
  dimension "d287" = 1
extrude "押し出し19" cut sketch "スケッチ20" against normal blind 5 contours L0 L1 L2 L3 | L3 A7 | A8 L1 | L3 A5 | A6 L1 | L4 L5 L6 L7 | L7 A1 | A2 L5 | L7 A3 | A4 L5 | L12 L11 L10 L9 | A15 L12 | L10 A16 | A13 L12 | L10 A14 | L16 L15 L14 L13 | A9 L16 | L14 A10 | A11 L16 | L14 A12
fillet "フィレット11" radius 2 32 edges at (-120, 2.5, 70) (-90, 2.5, 70) (-60, 2.5, 70) (-10, 2.5, 40) (40, 2.5, 70) (70, 2.5, 70) (100, 2.5, 70) (-100, 2.5, 70) (-70, 2.5, 70) (-40, 2.5, 70) (10, 2.5, 40) (60, 2.5, 70) (90, 2.5, 70) (120, 2.5, 70) (120, 2.5, -60) (90, 2.5, -60) (60, 2.5, -60) (30, 2.5, -60) (10, 2.5, -60) (-10, 2.5, -60) (-40, 2.5, -60) (-70, 2.5, -60) (-100, 2.5, -60) (100, 2.5, -60) (70, 2.5, -60) (40, 2.5, -60) (-30, 2.5, -60) (-60, 2.5, -60) (-90, 2.5, -60) (-120, 2.5, -60) (-30, 2.5, 40) (30, 2.5, 40)
fillet "フィレット12" radius 5 16 edges at (-200, 2.5, 50) (-200, 2.5, -50) (-150, 2.5, 50) (200, 2.5, 50) (150, 2.5, 50) (150, 2.5, -40) (200, 2.5, -50) (-150, 2.5, -40) (190, 2.5, -40) (190, 2.5, 40) (-150, 2.5, 40) (-190, 2.5, 40) (150, 2.5, 40) (-190, 2.5, -40) (150, 2.5, -50) (-150, 2.5, -50)
properties part number "RP_Waist-Avobe" material "A5052"
